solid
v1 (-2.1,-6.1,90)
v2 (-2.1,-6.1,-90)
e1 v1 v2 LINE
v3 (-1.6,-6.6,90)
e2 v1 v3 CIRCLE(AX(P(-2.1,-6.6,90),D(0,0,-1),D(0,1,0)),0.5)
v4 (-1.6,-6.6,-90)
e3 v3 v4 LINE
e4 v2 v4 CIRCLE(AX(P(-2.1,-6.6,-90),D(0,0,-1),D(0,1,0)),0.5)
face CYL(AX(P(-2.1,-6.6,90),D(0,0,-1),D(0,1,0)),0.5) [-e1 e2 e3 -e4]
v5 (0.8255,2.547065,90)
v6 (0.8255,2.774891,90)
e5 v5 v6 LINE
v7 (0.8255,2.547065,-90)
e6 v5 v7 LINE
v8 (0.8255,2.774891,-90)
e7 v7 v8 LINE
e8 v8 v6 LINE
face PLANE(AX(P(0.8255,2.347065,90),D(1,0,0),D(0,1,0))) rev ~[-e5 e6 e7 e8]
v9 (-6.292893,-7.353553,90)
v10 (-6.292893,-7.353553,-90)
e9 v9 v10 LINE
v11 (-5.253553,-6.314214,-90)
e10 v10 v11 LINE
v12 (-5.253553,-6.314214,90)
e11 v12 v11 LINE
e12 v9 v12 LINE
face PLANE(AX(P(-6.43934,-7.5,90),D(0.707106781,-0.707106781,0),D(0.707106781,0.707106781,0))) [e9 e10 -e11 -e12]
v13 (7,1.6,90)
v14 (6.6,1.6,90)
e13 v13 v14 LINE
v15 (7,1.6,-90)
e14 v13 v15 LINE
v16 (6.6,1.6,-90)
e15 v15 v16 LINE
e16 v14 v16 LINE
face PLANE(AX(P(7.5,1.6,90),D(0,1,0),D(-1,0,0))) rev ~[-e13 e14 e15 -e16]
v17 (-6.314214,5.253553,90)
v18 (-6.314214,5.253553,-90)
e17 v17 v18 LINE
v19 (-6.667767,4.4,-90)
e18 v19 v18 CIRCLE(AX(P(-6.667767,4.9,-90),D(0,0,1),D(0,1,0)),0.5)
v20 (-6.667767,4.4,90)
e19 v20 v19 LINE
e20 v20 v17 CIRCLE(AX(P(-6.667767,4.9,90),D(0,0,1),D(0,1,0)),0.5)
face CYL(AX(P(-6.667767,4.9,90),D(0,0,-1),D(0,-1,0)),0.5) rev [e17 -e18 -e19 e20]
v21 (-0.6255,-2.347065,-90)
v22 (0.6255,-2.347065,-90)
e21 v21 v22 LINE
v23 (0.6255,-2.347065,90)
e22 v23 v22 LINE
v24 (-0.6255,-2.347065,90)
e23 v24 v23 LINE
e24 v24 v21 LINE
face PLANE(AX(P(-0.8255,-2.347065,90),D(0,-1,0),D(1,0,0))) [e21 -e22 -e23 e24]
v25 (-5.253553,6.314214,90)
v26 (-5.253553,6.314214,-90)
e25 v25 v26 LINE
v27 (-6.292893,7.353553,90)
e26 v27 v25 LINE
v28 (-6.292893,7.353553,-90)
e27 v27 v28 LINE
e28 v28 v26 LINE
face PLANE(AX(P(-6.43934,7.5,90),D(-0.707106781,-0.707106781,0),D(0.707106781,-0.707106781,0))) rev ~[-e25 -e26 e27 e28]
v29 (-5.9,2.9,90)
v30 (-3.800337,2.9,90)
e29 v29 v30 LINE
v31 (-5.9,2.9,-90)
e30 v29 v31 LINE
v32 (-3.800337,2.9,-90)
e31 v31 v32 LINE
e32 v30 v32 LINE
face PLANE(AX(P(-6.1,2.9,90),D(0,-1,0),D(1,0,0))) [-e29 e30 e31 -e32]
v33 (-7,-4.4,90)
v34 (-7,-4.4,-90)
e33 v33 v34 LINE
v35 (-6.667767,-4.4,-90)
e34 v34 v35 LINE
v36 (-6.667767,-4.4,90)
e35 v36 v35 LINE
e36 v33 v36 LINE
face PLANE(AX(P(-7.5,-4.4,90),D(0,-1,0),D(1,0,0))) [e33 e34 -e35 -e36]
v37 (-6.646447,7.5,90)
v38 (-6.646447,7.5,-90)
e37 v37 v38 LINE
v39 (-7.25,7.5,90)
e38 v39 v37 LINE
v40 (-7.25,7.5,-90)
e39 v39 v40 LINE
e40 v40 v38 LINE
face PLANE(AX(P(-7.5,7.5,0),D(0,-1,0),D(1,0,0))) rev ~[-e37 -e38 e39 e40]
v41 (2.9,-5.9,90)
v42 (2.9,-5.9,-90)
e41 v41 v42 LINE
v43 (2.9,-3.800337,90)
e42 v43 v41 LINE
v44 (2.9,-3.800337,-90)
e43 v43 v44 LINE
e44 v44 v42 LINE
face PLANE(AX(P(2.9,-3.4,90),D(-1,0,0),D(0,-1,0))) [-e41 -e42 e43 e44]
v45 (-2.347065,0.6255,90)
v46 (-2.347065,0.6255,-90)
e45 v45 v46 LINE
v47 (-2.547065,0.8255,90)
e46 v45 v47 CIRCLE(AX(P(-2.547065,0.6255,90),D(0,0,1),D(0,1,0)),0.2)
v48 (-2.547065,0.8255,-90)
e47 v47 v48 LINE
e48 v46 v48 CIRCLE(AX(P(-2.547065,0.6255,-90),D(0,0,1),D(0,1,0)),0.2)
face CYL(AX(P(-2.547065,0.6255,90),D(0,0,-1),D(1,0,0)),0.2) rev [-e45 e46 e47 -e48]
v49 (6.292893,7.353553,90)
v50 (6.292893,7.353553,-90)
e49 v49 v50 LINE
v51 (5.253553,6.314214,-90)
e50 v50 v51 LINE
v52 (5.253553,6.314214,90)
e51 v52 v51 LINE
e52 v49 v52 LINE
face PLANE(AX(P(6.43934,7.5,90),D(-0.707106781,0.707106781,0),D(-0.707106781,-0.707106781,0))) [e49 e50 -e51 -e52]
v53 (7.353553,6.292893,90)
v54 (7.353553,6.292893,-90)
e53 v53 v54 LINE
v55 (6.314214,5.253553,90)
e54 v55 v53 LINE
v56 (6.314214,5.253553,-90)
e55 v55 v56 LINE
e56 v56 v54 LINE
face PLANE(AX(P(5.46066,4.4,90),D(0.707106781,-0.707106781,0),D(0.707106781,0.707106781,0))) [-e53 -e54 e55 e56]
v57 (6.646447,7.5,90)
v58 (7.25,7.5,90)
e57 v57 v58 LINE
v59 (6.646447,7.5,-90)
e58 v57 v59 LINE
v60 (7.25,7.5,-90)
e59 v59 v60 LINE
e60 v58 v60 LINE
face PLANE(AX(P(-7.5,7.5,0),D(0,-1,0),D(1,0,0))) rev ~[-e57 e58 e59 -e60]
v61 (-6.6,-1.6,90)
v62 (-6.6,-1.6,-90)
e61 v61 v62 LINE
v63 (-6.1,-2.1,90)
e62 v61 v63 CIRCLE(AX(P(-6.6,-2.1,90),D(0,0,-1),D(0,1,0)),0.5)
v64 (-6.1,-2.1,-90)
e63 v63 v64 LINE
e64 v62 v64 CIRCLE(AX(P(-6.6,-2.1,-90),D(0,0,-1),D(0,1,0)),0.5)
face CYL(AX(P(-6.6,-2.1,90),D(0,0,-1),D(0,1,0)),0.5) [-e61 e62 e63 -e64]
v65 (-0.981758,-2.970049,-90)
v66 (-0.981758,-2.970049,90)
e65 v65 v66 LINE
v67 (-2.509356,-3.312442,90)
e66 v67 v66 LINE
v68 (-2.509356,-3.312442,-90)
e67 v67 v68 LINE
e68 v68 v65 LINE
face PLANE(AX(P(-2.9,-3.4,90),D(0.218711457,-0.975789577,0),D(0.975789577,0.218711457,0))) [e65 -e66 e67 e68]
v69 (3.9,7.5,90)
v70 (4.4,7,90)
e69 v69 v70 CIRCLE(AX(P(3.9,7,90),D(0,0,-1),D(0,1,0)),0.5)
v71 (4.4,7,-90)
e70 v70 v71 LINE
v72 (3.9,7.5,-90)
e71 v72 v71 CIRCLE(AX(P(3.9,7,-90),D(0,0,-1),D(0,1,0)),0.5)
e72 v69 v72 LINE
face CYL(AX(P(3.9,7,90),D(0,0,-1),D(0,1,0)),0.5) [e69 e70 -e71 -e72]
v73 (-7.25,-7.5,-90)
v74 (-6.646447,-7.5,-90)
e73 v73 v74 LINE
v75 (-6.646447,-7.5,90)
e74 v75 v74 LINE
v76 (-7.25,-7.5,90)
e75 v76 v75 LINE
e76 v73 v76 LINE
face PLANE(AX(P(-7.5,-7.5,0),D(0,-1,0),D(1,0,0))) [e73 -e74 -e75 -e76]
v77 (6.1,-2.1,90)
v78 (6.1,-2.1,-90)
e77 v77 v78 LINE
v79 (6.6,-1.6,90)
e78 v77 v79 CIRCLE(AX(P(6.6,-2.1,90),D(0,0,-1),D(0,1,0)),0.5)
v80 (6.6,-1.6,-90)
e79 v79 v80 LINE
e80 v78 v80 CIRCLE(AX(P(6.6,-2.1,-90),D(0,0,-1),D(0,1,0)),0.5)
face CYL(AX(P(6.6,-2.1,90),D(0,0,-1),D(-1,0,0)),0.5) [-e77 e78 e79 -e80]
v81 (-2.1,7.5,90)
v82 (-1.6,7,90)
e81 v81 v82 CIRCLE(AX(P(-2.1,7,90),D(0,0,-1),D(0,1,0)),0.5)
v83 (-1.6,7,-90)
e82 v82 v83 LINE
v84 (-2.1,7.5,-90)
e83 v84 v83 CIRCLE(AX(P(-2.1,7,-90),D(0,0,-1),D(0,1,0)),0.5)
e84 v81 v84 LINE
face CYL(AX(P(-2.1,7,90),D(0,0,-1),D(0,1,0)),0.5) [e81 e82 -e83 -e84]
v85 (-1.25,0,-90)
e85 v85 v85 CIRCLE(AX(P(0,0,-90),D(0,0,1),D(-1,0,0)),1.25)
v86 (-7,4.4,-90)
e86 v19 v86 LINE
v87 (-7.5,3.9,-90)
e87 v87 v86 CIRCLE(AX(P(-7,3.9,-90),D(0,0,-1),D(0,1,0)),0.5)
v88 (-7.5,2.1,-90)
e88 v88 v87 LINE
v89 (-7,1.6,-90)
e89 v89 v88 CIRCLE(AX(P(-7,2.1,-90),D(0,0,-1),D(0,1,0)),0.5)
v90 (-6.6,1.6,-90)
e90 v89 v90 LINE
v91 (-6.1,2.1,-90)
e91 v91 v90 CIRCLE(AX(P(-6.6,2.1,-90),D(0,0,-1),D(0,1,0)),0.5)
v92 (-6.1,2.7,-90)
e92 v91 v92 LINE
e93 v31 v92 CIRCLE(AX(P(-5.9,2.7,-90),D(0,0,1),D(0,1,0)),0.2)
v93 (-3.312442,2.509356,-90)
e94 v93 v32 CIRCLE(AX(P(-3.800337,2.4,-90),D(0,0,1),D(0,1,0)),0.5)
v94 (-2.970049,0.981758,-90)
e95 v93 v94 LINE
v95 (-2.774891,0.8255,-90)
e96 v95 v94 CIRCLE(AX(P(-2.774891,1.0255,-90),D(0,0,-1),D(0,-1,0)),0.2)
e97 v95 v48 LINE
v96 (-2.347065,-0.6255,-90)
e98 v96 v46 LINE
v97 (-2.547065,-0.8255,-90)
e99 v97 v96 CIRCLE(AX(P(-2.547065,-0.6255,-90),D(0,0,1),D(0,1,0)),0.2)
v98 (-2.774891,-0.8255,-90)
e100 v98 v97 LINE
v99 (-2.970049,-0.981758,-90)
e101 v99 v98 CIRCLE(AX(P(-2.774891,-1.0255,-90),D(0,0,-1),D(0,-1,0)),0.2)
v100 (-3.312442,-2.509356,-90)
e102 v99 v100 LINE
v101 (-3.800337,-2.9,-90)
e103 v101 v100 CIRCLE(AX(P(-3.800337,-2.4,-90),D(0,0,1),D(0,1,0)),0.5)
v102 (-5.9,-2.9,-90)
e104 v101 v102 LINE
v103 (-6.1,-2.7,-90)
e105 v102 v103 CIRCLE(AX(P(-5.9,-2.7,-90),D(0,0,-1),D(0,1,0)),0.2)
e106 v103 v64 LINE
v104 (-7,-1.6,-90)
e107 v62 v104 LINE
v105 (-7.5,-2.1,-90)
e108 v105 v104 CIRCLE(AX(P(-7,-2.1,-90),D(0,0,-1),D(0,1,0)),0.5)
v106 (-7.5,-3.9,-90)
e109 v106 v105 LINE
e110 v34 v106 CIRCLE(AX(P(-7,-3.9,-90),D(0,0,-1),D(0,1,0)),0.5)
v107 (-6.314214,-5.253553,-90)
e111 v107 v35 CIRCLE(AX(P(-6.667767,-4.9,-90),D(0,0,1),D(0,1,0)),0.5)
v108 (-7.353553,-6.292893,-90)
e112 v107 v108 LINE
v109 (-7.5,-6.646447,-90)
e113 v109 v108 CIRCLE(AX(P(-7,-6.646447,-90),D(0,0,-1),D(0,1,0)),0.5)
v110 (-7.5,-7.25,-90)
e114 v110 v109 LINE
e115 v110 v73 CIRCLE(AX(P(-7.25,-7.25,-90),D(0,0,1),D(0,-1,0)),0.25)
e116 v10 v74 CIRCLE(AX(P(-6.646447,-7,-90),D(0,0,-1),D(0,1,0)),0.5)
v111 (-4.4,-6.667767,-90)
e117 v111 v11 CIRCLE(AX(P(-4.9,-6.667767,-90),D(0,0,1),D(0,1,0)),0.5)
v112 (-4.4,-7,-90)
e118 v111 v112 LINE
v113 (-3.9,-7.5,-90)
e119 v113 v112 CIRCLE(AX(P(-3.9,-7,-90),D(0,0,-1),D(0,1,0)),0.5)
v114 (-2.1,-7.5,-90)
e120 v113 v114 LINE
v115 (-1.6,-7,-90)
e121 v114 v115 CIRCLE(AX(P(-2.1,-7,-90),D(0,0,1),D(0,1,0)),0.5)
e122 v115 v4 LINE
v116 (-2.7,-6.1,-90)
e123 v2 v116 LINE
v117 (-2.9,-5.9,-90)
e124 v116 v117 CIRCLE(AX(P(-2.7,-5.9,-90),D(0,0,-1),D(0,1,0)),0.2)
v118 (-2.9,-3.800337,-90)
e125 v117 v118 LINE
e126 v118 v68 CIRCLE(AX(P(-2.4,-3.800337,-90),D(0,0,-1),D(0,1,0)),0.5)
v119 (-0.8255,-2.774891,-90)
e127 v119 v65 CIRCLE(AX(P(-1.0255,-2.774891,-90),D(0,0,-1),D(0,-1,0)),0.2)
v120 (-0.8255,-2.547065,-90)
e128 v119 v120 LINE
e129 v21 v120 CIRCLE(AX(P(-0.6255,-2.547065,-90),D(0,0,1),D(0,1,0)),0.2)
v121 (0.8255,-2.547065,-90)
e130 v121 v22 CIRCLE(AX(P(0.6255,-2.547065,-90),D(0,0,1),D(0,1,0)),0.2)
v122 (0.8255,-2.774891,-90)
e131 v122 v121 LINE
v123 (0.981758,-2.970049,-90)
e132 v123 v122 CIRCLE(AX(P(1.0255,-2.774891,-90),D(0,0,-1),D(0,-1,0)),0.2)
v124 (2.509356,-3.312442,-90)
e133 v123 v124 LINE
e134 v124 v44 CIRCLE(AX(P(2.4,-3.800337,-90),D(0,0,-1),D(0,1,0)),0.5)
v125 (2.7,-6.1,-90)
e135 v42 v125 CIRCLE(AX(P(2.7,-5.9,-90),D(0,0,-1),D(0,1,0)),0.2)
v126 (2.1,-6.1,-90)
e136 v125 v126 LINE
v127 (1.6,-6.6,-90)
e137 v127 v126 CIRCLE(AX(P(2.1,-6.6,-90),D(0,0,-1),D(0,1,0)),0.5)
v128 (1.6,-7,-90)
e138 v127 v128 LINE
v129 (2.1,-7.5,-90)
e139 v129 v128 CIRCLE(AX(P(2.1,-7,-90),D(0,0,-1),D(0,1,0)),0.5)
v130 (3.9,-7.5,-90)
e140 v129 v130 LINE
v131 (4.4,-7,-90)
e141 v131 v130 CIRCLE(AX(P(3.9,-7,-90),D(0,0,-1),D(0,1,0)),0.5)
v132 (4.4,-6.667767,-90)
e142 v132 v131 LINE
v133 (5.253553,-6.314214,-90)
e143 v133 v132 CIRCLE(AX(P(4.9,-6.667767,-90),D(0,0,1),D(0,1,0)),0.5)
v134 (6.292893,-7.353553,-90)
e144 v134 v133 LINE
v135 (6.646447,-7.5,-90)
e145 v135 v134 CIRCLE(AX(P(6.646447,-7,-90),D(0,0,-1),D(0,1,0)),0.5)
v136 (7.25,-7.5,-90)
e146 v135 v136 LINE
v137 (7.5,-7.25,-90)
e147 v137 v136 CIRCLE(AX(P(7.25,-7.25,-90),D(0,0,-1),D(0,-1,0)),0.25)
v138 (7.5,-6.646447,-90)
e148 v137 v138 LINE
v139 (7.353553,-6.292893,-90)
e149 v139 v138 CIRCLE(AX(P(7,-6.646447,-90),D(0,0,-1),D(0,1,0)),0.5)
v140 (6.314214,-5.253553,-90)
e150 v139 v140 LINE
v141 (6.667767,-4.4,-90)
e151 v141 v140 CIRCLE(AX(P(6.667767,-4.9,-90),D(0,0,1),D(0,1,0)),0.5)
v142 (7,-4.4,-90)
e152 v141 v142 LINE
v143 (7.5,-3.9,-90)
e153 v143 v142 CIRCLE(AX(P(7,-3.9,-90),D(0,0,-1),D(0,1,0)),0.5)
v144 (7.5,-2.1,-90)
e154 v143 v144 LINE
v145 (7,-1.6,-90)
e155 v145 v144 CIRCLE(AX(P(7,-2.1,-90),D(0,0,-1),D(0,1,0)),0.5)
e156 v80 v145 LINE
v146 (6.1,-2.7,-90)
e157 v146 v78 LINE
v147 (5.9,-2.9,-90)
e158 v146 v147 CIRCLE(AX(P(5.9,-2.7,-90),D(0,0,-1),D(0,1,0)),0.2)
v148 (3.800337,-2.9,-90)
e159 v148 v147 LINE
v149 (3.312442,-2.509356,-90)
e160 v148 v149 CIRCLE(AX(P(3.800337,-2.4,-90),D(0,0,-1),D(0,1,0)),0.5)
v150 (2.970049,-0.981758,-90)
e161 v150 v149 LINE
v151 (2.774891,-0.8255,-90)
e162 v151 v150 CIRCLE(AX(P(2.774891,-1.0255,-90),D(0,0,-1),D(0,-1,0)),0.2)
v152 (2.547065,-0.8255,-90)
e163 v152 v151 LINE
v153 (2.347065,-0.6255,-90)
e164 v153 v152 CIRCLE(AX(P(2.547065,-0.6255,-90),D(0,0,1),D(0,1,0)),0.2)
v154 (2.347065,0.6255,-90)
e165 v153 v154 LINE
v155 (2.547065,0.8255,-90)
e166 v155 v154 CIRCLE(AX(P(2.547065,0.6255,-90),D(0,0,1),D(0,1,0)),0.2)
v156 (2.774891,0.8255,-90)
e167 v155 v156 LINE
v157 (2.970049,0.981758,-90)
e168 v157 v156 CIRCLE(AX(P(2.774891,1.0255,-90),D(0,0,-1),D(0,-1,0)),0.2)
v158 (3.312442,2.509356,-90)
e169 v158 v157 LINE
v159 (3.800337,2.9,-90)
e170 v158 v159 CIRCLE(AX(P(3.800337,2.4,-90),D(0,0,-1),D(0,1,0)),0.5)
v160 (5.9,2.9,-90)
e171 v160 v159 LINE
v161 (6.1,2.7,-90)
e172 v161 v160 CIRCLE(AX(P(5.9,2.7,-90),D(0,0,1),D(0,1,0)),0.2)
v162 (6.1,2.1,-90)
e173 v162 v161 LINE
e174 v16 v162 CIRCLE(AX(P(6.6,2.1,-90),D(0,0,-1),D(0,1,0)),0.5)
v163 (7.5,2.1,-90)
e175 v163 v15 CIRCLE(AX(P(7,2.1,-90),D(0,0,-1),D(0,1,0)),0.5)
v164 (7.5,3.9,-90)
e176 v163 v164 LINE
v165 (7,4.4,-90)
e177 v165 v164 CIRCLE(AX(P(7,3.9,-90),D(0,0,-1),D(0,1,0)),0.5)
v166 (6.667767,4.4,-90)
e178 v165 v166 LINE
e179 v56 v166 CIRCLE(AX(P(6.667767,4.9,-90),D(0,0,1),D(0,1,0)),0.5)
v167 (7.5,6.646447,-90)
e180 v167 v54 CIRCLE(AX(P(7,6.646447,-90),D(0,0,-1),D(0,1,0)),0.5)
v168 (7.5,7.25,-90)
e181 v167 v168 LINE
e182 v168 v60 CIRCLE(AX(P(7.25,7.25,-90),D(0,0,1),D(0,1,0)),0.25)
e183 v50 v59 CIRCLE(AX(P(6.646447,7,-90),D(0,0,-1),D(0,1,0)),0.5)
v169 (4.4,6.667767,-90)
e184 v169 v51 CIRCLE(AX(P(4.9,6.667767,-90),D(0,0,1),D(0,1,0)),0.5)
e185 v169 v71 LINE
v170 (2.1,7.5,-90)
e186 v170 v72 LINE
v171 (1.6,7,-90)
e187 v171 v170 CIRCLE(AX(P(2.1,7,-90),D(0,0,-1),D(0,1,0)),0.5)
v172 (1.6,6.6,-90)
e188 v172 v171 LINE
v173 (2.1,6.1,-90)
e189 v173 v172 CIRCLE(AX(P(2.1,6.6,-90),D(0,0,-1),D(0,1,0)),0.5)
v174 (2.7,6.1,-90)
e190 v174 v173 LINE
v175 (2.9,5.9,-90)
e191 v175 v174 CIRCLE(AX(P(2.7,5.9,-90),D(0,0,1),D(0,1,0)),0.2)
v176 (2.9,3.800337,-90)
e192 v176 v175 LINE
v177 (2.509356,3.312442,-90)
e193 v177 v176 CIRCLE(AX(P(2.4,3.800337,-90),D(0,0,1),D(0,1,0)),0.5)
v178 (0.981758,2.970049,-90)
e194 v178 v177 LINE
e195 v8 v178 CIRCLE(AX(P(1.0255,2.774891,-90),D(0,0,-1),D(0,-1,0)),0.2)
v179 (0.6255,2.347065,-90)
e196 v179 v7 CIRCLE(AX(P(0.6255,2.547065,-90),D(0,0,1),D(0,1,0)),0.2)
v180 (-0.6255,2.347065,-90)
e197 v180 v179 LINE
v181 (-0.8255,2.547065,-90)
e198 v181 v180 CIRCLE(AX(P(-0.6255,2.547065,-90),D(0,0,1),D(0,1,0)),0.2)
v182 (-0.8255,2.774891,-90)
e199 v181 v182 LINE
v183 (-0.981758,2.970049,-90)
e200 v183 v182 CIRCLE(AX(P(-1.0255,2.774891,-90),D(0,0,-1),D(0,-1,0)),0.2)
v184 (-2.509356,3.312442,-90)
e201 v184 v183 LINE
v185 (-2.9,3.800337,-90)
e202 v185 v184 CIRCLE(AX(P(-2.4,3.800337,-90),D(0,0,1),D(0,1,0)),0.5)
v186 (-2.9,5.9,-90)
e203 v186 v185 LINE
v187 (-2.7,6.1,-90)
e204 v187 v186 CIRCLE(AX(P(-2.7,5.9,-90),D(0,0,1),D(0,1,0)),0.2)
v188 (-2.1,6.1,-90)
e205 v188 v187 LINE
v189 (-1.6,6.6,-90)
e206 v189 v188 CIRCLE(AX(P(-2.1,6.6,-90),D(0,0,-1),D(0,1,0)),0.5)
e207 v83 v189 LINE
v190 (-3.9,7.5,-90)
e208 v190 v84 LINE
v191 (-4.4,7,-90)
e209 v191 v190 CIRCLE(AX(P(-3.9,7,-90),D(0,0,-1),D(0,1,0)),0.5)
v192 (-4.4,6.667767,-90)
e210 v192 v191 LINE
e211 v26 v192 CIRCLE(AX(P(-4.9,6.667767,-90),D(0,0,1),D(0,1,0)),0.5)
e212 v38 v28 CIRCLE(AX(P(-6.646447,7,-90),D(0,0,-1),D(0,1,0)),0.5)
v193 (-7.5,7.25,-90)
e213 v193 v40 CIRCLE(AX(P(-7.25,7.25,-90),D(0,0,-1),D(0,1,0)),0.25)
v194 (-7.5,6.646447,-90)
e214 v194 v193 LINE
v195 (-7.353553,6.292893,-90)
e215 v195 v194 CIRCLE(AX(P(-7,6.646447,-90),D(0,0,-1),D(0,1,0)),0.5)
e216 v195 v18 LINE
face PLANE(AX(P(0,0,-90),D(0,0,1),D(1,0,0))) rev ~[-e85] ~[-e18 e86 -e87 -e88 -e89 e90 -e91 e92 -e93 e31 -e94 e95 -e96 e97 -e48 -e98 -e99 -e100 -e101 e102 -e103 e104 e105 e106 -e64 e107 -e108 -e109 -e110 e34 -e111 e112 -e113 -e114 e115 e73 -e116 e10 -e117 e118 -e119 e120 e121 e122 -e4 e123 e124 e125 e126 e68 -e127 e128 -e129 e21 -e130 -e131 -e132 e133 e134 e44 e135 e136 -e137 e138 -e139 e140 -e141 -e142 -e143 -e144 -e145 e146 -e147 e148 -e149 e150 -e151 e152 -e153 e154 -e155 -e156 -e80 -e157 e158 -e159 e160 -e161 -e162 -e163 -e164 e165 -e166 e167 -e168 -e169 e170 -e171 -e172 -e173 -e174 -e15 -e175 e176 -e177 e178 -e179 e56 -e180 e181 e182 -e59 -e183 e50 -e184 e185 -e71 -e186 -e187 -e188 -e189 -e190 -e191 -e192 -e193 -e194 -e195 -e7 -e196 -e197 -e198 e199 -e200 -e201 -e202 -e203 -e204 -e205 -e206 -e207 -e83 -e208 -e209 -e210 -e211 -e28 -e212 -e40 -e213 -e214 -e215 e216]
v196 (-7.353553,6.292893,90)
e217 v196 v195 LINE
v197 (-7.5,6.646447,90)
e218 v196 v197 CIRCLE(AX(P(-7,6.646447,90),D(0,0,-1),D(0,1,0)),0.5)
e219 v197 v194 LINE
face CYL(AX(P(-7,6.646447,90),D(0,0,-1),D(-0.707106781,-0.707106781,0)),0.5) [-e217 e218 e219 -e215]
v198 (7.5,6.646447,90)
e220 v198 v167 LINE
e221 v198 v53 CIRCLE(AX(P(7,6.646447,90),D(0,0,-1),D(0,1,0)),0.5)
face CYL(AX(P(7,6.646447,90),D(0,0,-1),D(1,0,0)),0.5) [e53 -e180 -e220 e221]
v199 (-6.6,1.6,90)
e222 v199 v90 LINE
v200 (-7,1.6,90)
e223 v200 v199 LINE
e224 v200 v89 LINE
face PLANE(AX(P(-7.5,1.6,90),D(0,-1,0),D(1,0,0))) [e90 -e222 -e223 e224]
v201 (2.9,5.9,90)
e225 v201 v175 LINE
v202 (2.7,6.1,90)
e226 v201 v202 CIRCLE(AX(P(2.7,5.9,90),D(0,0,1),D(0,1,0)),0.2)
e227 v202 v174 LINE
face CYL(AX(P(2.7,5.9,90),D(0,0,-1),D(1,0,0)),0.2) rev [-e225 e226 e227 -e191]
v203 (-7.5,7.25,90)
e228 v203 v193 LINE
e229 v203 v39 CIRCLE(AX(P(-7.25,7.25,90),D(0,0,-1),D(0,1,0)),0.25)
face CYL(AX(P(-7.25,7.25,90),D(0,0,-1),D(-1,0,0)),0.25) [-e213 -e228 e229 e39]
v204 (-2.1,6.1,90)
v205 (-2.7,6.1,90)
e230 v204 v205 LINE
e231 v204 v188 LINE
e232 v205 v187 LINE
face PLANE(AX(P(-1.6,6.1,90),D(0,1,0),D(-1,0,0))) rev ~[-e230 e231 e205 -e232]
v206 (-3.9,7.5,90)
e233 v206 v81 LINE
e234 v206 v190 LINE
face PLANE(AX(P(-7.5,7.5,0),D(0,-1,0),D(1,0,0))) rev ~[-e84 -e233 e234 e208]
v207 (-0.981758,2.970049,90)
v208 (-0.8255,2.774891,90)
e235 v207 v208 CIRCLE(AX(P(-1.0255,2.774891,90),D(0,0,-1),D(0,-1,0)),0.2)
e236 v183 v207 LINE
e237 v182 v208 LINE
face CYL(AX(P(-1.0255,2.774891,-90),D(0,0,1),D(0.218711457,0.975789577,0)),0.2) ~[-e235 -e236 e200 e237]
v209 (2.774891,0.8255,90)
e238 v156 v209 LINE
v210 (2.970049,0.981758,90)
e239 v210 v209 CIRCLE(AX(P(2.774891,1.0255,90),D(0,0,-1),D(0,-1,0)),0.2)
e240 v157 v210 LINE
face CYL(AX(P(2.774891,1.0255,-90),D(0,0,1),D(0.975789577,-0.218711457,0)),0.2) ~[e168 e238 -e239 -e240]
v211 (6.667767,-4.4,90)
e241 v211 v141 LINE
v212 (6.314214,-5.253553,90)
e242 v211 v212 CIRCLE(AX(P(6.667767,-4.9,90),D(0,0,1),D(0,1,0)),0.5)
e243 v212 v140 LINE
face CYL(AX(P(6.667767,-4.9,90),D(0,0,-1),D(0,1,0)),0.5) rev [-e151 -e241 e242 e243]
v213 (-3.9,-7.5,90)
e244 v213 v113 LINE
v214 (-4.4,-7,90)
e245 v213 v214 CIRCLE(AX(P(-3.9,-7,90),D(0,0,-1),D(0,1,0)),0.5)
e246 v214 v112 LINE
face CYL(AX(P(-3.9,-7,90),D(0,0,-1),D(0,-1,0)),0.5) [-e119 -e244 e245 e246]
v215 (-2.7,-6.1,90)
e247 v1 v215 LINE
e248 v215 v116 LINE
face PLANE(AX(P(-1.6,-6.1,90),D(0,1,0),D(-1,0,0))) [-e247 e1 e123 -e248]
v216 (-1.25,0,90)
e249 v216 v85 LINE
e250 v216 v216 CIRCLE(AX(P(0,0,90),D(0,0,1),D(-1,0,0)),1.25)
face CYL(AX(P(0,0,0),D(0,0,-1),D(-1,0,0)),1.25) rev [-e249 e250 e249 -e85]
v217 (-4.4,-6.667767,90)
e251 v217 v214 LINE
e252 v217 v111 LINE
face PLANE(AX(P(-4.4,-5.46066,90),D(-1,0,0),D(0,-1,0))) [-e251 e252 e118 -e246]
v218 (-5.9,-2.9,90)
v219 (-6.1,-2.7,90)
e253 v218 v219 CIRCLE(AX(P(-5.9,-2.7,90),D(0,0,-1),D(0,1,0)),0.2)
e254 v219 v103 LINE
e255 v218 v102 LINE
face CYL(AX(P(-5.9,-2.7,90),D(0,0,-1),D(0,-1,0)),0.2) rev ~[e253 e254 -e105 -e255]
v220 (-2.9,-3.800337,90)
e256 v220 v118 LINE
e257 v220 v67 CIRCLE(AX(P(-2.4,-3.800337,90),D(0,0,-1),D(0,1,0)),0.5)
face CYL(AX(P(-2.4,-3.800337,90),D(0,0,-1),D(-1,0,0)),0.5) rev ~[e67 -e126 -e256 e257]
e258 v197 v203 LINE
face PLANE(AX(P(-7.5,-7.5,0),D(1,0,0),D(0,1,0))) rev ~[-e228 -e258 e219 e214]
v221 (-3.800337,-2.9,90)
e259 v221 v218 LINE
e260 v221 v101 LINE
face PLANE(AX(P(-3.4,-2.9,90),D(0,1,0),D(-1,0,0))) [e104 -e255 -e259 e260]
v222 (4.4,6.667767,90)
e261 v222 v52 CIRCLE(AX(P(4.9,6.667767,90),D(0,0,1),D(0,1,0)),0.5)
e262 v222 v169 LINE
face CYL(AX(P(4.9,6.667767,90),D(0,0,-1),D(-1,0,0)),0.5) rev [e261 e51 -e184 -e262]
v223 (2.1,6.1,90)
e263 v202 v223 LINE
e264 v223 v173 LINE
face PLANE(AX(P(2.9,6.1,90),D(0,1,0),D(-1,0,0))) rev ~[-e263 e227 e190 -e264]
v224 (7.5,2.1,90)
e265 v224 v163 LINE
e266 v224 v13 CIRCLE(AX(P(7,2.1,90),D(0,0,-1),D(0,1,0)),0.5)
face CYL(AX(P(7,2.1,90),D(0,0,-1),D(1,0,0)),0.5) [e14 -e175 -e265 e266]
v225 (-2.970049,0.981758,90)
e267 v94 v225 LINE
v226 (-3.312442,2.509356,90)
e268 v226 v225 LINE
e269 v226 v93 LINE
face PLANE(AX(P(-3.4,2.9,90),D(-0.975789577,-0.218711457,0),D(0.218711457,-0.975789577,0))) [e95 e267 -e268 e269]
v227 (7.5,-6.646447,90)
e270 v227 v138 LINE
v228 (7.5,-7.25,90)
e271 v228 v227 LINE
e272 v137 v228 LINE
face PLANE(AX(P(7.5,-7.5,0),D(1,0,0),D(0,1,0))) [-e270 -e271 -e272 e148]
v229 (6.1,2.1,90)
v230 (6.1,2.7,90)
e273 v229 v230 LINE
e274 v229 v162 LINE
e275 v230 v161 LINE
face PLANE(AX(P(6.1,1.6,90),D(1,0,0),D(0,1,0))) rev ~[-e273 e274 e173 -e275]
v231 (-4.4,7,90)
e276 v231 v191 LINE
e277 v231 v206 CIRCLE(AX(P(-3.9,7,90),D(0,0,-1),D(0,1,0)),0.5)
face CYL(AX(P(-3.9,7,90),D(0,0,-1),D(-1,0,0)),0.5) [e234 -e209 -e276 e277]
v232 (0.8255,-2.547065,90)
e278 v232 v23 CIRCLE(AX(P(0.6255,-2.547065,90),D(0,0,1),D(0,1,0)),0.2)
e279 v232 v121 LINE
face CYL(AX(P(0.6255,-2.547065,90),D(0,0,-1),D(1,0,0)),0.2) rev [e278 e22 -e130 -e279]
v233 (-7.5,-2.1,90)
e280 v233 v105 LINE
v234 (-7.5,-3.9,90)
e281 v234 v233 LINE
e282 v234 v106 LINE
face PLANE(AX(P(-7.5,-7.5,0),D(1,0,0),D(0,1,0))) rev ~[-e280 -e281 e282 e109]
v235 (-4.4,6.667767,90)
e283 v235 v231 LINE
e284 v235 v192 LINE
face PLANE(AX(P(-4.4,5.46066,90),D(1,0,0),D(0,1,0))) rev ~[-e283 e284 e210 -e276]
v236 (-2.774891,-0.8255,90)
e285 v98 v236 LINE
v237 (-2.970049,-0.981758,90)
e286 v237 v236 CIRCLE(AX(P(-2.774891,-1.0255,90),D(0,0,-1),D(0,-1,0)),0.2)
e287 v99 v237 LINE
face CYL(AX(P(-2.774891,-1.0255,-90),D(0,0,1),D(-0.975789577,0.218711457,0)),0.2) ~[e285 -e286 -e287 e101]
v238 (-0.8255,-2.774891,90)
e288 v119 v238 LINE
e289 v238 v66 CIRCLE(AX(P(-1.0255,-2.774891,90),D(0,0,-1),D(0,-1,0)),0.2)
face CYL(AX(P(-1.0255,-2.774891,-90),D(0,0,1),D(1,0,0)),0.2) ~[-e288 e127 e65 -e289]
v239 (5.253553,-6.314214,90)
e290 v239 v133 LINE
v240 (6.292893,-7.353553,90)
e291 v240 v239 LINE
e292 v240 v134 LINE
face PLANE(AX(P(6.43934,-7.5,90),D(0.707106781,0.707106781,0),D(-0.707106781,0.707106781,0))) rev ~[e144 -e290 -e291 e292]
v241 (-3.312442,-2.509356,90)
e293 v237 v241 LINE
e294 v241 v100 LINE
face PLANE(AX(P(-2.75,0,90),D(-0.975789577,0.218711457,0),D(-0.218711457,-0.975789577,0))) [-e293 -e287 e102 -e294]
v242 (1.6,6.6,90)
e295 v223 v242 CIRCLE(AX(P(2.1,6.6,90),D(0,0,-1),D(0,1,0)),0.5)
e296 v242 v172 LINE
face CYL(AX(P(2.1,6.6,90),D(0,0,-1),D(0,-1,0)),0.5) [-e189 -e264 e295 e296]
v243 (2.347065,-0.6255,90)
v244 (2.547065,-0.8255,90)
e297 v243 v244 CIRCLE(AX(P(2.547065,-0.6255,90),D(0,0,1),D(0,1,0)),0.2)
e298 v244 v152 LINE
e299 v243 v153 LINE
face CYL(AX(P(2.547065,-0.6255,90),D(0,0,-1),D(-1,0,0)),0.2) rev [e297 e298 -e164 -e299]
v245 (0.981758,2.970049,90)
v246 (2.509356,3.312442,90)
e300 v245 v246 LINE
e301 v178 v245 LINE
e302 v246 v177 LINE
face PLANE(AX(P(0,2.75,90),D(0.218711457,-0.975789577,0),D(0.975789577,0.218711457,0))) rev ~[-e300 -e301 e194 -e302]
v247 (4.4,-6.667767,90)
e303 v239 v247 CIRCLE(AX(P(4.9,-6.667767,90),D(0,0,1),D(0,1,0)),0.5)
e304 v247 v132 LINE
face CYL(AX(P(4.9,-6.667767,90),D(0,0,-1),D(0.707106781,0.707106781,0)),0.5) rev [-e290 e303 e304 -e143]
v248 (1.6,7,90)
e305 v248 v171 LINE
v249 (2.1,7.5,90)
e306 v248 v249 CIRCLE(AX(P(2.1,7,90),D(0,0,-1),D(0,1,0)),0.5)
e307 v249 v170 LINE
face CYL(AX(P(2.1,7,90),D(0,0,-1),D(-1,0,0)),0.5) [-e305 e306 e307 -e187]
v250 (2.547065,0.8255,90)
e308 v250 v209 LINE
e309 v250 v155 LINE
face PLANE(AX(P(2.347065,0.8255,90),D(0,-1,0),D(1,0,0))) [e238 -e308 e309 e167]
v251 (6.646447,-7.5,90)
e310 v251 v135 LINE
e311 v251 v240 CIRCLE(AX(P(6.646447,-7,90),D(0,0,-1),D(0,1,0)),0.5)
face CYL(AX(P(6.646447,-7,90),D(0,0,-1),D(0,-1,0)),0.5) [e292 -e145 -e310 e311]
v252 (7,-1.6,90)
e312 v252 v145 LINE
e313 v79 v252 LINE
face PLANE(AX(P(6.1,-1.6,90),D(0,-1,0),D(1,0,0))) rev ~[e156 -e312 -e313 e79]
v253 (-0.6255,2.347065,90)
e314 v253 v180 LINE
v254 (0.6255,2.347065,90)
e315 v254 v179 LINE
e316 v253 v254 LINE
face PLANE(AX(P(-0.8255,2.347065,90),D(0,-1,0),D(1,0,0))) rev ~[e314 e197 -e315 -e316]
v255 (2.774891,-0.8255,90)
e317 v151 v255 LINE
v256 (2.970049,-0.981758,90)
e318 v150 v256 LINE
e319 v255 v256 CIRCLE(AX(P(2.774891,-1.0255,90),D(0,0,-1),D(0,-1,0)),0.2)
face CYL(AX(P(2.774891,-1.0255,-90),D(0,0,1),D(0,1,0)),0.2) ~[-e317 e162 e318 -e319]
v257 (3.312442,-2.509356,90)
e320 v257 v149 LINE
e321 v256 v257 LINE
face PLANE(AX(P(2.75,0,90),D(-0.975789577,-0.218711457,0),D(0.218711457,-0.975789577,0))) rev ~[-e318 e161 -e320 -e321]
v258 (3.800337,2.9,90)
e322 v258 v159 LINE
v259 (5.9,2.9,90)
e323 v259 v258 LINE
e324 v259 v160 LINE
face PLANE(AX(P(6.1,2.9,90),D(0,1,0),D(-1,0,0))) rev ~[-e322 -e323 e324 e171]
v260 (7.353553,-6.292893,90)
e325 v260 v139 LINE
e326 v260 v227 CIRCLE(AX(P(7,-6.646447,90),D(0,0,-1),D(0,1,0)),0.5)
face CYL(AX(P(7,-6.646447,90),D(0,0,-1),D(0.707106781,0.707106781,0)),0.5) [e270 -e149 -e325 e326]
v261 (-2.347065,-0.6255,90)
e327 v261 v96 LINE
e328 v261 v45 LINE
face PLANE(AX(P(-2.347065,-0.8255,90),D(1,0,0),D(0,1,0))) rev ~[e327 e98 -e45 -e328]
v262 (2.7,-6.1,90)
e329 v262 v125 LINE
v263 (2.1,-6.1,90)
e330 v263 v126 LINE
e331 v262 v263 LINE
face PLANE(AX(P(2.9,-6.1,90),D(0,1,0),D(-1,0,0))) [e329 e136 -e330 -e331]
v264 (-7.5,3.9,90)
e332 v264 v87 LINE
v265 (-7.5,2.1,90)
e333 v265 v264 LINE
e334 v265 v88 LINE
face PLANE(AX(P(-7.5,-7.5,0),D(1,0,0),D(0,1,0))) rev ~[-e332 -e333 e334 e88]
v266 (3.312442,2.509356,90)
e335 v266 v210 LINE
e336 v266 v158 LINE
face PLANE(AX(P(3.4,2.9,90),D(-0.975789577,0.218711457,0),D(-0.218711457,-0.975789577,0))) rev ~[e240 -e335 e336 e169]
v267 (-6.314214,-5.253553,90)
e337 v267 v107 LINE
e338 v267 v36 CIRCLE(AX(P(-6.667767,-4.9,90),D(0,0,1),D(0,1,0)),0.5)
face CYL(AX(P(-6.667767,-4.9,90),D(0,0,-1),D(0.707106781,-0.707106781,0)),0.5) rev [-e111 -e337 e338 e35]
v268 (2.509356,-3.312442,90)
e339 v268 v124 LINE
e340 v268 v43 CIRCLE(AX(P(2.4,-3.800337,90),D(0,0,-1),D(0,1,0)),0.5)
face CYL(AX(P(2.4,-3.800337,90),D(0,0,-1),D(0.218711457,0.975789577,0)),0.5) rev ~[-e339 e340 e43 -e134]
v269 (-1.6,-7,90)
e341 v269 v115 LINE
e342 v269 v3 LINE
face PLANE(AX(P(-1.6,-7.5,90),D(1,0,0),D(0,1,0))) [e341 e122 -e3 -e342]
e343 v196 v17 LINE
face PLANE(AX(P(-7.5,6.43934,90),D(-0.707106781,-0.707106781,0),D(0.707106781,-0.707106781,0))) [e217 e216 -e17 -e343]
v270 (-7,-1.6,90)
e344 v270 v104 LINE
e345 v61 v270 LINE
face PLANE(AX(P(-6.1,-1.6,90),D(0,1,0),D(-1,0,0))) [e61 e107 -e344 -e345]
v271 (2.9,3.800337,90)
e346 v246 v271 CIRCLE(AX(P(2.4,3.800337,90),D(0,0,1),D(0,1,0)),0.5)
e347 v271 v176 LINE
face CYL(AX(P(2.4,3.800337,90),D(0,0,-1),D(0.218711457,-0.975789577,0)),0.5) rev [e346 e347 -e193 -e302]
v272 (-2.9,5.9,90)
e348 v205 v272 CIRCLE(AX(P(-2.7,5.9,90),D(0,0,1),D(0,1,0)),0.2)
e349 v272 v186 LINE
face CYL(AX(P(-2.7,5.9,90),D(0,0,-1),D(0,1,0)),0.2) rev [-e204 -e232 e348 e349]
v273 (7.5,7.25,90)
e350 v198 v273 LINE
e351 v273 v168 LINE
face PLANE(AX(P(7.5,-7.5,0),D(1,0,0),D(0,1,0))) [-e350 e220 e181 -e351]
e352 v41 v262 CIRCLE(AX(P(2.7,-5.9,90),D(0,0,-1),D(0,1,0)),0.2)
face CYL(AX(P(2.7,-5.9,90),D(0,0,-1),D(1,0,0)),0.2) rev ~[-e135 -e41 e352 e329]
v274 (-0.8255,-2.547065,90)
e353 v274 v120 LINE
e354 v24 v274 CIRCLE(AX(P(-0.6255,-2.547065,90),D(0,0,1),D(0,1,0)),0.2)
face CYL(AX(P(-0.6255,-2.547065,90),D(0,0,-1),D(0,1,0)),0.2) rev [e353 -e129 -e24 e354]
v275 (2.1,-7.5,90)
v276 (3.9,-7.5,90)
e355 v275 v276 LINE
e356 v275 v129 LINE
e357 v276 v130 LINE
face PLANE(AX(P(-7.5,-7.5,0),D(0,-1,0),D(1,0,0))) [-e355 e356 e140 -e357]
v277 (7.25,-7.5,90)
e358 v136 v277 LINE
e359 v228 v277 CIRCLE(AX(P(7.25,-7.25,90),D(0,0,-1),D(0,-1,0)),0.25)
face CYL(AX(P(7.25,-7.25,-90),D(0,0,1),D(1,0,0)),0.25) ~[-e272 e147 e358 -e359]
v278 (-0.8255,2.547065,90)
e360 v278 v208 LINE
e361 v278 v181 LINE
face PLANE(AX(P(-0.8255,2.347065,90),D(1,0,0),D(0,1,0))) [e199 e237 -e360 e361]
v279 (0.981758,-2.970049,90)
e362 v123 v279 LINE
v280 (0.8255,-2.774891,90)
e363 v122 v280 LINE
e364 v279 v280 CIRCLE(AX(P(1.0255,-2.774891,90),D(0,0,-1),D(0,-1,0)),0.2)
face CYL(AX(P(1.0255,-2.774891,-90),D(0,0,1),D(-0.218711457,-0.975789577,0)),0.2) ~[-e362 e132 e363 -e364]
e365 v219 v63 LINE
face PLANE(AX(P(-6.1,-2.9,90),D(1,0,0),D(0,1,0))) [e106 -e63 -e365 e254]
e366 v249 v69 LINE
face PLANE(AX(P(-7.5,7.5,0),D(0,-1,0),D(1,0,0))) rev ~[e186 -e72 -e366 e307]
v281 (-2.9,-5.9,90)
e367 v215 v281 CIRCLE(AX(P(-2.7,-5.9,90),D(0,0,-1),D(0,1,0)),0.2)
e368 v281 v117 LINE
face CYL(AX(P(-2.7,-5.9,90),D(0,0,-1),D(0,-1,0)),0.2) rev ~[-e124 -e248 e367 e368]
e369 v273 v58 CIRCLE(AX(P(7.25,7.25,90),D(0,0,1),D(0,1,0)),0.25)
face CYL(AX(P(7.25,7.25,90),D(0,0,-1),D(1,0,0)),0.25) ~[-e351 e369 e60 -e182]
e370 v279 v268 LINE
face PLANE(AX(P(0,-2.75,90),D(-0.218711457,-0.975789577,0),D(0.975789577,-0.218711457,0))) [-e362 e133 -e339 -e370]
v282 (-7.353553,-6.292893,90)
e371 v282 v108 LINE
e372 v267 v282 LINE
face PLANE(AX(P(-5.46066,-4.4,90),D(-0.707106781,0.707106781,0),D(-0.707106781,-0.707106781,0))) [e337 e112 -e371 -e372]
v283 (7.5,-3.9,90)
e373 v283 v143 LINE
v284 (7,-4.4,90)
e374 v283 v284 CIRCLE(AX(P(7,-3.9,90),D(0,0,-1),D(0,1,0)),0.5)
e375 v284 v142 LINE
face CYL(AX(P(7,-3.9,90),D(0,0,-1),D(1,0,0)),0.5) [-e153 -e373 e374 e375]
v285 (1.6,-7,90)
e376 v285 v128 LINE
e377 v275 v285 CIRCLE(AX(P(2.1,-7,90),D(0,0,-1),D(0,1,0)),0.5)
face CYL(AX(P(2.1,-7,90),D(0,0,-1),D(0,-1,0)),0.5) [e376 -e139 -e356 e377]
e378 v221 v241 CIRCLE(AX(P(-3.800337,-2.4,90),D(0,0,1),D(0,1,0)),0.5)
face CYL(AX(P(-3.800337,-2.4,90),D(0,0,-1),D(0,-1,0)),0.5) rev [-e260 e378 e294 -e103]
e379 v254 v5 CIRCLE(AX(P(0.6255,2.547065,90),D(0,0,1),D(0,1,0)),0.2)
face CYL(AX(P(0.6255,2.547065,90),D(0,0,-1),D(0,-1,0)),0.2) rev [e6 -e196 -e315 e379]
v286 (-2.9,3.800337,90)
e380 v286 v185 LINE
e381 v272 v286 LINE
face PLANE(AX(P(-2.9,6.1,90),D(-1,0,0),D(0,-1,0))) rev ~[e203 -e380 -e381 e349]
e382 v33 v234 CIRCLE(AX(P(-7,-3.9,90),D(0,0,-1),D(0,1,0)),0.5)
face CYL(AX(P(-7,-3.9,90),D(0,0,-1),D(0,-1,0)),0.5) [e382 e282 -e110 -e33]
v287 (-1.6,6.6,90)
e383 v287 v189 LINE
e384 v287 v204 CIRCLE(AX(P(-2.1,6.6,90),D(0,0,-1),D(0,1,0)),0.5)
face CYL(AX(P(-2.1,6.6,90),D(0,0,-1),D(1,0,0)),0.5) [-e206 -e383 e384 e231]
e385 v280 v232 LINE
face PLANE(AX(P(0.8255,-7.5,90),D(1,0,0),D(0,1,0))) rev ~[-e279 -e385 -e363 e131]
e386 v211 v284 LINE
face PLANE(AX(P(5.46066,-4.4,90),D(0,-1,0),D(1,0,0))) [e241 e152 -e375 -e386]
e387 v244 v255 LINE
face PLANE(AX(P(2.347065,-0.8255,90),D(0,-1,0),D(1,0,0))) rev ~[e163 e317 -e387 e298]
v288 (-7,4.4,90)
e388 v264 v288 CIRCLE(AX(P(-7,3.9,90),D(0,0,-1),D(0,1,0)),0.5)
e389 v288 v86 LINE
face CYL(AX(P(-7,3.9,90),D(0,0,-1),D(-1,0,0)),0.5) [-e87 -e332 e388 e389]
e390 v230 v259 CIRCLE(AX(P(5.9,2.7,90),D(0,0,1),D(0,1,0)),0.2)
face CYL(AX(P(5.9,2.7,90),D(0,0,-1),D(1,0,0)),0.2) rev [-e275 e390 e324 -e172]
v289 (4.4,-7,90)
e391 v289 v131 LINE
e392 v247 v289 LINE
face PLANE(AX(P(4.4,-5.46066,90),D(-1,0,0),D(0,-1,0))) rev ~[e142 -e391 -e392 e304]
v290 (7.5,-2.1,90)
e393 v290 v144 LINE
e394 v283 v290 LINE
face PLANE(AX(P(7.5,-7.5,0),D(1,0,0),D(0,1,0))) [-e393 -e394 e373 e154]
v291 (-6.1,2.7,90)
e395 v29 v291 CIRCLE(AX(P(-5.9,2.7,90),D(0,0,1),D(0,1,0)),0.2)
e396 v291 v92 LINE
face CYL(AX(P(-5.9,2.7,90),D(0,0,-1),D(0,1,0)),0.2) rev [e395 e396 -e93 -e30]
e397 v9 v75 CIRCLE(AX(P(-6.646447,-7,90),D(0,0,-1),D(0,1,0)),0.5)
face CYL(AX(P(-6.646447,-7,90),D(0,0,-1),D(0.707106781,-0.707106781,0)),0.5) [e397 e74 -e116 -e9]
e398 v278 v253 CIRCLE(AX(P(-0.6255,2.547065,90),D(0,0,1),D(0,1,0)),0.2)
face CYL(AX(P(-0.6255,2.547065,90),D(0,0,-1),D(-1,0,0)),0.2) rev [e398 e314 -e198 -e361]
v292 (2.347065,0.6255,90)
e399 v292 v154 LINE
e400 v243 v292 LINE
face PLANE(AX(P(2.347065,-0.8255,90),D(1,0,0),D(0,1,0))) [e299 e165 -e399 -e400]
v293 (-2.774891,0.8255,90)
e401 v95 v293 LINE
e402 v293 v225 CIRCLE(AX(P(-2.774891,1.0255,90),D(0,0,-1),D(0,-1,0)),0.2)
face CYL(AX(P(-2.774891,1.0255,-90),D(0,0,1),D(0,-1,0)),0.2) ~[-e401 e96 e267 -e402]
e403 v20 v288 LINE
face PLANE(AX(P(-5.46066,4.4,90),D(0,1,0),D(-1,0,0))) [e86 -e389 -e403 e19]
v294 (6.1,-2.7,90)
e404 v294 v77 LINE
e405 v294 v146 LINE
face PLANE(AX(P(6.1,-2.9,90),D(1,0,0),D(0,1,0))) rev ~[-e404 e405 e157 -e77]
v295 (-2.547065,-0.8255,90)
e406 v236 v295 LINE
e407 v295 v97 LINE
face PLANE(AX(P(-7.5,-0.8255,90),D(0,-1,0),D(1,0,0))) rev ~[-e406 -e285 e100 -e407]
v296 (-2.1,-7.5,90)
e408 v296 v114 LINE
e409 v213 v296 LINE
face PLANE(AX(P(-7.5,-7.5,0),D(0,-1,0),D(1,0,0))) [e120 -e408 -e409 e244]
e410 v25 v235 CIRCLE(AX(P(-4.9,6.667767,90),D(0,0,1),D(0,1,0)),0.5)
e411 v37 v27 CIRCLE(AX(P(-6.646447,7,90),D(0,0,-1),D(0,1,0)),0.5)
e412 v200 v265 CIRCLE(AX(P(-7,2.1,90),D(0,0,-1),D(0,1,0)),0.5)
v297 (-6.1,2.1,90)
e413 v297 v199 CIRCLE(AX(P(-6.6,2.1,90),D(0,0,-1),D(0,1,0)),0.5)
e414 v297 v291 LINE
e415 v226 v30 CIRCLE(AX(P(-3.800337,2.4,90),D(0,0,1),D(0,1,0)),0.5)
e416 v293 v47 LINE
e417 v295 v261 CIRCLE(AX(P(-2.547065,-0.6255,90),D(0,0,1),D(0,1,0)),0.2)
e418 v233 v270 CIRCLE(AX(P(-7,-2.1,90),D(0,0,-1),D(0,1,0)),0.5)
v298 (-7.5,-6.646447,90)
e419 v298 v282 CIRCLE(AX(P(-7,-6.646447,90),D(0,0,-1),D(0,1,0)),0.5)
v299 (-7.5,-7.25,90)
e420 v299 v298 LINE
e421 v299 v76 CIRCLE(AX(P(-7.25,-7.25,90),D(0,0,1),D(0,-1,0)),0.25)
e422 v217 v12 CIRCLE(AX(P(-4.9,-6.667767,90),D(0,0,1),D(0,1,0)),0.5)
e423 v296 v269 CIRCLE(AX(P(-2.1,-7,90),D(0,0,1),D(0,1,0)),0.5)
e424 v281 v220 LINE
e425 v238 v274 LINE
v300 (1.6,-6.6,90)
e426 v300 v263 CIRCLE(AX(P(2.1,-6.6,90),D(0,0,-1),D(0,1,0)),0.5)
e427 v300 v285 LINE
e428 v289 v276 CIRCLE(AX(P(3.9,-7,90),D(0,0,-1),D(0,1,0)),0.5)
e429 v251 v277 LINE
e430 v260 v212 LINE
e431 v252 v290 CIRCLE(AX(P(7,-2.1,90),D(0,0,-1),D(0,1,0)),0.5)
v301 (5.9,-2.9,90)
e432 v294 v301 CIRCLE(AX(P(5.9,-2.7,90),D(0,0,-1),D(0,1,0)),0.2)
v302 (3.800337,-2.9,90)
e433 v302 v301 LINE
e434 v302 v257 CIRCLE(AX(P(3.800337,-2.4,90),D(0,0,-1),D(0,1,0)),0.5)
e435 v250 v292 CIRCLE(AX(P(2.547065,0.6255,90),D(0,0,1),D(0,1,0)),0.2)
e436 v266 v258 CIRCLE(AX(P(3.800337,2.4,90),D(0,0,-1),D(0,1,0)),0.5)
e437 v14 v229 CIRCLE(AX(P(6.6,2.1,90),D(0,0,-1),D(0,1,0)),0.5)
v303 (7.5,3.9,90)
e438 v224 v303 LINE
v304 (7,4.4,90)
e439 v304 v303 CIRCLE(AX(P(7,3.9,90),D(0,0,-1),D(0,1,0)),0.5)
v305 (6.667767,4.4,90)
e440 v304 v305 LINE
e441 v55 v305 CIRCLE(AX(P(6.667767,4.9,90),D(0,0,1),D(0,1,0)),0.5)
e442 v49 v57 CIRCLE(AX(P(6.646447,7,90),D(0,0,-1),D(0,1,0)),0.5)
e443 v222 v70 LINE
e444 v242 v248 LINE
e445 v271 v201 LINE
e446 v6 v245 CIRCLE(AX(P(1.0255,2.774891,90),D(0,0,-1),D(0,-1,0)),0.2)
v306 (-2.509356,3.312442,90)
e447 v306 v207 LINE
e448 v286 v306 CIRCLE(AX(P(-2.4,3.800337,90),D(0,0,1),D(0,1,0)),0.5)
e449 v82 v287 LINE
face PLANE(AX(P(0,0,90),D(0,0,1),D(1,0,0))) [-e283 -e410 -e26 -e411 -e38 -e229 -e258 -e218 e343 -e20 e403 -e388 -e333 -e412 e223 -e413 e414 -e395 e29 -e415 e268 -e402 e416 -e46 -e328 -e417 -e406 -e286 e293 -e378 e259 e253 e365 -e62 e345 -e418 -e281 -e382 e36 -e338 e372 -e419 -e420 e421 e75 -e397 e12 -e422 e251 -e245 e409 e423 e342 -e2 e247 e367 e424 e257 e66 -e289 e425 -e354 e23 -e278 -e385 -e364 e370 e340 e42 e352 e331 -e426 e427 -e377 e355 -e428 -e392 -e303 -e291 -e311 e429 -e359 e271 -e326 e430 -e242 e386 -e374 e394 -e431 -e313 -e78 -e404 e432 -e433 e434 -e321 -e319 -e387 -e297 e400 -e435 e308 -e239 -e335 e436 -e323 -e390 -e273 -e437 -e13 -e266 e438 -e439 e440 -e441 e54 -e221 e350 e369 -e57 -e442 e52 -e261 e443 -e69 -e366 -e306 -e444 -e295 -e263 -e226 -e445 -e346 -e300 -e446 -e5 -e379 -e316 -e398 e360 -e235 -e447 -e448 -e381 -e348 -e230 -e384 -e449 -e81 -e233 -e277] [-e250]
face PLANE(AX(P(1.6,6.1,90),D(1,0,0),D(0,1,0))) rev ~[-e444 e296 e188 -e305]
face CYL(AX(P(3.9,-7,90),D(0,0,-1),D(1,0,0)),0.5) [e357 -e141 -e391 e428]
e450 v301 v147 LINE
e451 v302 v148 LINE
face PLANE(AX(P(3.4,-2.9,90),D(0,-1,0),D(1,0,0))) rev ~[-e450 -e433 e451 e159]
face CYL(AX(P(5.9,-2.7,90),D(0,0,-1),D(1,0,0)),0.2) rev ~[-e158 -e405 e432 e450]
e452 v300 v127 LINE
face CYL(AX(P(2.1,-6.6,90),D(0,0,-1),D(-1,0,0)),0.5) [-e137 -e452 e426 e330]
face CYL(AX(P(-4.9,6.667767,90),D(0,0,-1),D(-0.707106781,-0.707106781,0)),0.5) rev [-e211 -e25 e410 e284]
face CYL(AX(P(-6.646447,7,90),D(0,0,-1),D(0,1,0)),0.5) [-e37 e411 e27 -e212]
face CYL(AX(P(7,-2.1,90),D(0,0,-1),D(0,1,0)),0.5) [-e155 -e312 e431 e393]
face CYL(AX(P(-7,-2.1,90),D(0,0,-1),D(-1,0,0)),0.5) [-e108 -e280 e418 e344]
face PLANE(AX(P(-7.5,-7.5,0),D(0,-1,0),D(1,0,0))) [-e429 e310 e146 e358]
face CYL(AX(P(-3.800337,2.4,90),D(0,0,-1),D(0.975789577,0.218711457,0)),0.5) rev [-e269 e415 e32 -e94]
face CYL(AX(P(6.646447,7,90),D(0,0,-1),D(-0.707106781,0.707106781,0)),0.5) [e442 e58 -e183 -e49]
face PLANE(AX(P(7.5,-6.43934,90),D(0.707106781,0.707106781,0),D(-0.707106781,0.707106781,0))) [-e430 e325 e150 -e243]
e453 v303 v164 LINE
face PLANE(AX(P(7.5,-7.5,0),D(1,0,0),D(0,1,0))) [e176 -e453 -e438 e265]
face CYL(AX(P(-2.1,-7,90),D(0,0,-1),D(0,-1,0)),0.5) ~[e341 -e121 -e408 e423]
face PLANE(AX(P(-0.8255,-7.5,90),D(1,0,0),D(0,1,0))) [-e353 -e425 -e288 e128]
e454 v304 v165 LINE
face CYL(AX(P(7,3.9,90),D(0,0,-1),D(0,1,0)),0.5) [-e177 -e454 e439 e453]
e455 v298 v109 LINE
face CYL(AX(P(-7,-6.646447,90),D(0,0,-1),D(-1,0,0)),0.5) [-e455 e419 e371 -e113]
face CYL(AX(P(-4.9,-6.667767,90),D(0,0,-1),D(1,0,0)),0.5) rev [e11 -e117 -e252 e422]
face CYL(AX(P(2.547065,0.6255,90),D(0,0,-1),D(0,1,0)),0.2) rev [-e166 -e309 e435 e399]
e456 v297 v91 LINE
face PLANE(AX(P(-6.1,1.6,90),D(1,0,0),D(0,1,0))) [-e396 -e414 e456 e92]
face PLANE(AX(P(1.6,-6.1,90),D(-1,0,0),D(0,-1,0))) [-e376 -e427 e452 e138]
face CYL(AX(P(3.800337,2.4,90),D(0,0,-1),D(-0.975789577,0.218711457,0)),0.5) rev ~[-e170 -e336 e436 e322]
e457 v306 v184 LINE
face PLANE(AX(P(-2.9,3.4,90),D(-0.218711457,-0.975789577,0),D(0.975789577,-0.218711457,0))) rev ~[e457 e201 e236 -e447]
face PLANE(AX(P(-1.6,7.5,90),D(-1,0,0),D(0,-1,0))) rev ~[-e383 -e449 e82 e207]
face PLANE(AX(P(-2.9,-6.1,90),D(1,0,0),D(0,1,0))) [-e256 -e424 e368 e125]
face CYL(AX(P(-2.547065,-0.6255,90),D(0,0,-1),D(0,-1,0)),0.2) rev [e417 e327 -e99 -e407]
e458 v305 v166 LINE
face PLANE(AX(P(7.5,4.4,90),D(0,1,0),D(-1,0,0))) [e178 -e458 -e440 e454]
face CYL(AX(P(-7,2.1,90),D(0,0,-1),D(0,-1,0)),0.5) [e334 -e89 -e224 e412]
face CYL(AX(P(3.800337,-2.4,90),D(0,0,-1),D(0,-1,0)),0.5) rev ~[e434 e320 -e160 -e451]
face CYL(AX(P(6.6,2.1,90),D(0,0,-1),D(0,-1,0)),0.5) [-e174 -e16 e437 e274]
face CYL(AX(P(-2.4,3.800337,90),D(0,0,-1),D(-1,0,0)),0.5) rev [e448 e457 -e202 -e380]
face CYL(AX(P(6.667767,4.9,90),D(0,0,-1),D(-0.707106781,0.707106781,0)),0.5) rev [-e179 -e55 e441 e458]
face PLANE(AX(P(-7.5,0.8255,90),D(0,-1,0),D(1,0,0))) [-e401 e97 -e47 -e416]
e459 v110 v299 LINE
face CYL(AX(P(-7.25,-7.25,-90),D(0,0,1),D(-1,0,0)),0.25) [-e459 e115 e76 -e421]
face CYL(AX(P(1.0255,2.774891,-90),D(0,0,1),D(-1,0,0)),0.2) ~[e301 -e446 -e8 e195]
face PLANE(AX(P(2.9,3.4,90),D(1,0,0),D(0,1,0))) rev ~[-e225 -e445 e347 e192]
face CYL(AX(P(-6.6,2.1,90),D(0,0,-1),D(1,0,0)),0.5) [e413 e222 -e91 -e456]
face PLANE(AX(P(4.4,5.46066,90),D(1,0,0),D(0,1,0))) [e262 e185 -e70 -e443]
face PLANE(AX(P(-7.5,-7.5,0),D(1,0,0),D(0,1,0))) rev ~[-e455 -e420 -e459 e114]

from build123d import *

# Parameters (mm, degrees)
SKETCH1_W           = 15
SKETCH1_H           = 15
SKETCH1_R           = 1.25
BOSS_EXTRUDE1_DEPTH = 90
FILLET1_R           = 0.25
CUT_EXTRUDE1_DEPTH  = 181.312229203
CUT_EXTRUDE3_DEPTH  = 181.312229203
FILLET3_R           = 0.5
FILLET4_R           = 0.5
FILLET5_R           = 3
FILLET6_R           = 0.2
CUT_EXTRUDE4_DEPTH  = 181.312229203
FILLET8_R           = 0.5
SKETCH6_W           = 5.1529354
SKETCH6_H           = 1.651
SKETCH6_W_2         = 1.651
SKETCH6_H_2         = 5.1529354
CUT_EXTRUDE5_DEPTH  = 181.312229203
FILLET10_R          = 0.2


with BuildPart() as part:
    # Sketch1 → Boss-Extrude1 (new, symmetric)
    with BuildSketch(Plane.XY):
        Rectangle(SKETCH1_W, SKETCH1_H)
        with Locations(Location((0, 0, 0), (0, 0, 180))):
            Circle(SKETCH1_R, mode=Mode.SUBTRACT)
    extrude(amount=BOSS_EXTRUDE1_DEPTH, both=True)

    # Fillet1
    fillet1_edges = [part.edges().sort_by_distance(p)[0] for p in [
        (7.5, -7.5, 0),
        (-7.5, -7.5, 0),
        (-7.5, 7.5, 0),
        (7.5, 7.5, 0),
    ]]
    fillet(fillet1_edges, radius=FILLET1_R)

    # Sketch2 → Cut-Extrude1 (cut, through all)
    with BuildSketch(Plane.XY.offset(90)):
        Polygon((-7.5, 1.6), (-6.1, 1.6), (-6.1, 2.9), (-3.4, 2.9), (-3.4, -2.9), (-6.1, -2.9), (-6.1, -1.6), (-7.5, -1.6), align=None)
        Polygon((2.9, 6.1), (1.6, 6.1), (1.6, 7.5), (-1.6, 7.5), (-1.6, 6.1), (-2.9, 6.1), (-2.9, 3.4), (2.9, 3.4), align=None)
        Polygon((-1.6, -7.5), (-1.6, -6.1), (-2.9, -6.1), (-2.9, -3.4), (2.9, -3.4), (2.9, -6.1), (1.6, -6.1), (1.6, -7.5), align=None)
        Polygon((6.1, -2.9), (6.1, -1.6), (7.5, -1.6), (7.5, 1.6), (6.1, 1.6), (6.1, 2.9), (3.4, 2.9), (3.4, -2.9), align=None)
    extrude(amount=-CUT_EXTRUDE1_DEPTH, mode=Mode.SUBTRACT)

    # Sketch4 → Cut-Extrude3 (cut, through all)
    with BuildSketch(Plane.XY.offset(90)):
        Polygon((-3.4, 2.9), (-2.75, 0), (-3.4, -2.9), align=None)
        Polygon((-2.9, 3.4), (0, 2.75), (2.9, 3.4), align=None)
        Polygon((3.4, 2.9), (2.75, 0), (3.4, -2.9), align=None)
        Polygon((-2.9, -3.4), (0, -2.75), (2.9, -3.4), align=None)
    extrude(amount=-CUT_EXTRUDE3_DEPTH, mode=Mode.SUBTRACT)

    # Fillet3
    fillet3_edges = [part.edges().sort_by_distance(p)[0] for p in [
        (1.6, -7.5, 0),
        (-1.6, -7.5, 0),
        (-1.6, -6.1, 0),
        (1.6, -6.1, 0),
        (6.1, 1.6, 0),
        (7.5, 1.6, 0),
        (7.5, -1.6, 0),
        (6.1, -1.6, 0),
        (-7.5, -1.6, 0),
        (-7.5, 1.6, 0),
        (-6.1, 1.6, 0),
        (-6.1, -1.6, 0),
        (-1.6, 6.1, 0),
        (-1.6, 7.5, 0),
        (1.6, 7.5, 0),
        (1.6, 6.1, 0),
    ]]
    fillet(fillet3_edges, radius=FILLET3_R)

    # Fillet4
    fillet4_edges = [part.edges().sort_by_distance(p)[0] for p in [
        (-2.9, -3.4, 0),
        (2.9, -3.4, 0),
        (3.4, -2.9, 0),
        (3.4, 2.9, 0),
        (-3.4, 2.9, 0),
        (-3.4, -2.9, 0),
        (2.9, 3.4, 0),
        (-2.9, 3.4, 0),
    ]]
    fillet(fillet4_edges, radius=FILLET4_R)

    # Fillet5
    fillet5_edges = [part.edges().sort_by_distance(p)[0] for p in [
        (-2.75, 0, 0),
        (0, 2.75, 0),
        (2.75, 0, 0),
        (0, -2.75, 0),
    ]]
    fillet(fillet5_edges, radius=FILLET5_R)

    # Fillet6
    fillet6_edges = [part.edges().sort_by_distance(p)[0] for p in [
        (-2.9, -6.1, 0),
        (2.9, -6.1, 0),
        (6.1, -2.9, 0),
        (6.1, 2.9, 0),
        (-6.1, 2.9, 0),
        (-6.1, -2.9, 0),
        (2.9, 6.1, 0),
        (-2.9, 6.1, 0),
    ]]
    fillet(fillet6_edges, radius=FILLET6_R)

    # Sketch5 → Cut-Extrude4 (cut, through all)
    with BuildSketch(Plane.XY.offset(90)):
        Polygon((-7.5, 6.439339828), (-5.460660172, 4.4), (-7.5, 4.4), align=None)
        Polygon((-6.439339828, 7.5), (-4.4, 5.460660172), (-4.4, 7.5), align=None)
        Polygon((4.4, 7.5), (6.439339828, 7.5), (4.4, 5.460660172), align=None)
        Polygon((7.5, 6.439339828), (7.5, 4.4), (5.460660172, 4.4), align=None)
        Polygon((7.5, -6.439339828), (5.460660172, -4.4), (7.5, -4.4), align=None)
        Polygon((6.439339828, -7.5), (4.4, -5.460660172), (4.4, -7.5), align=None)
        Polygon((-4.4, -7.5), (-6.439339828, -7.5), (-4.4, -5.460660172), align=None)
        Polygon((-7.5, -6.439339828), (-7.5, -4.4), (-5.460660172, -4.4), align=None)
    extrude(amount=-CUT_EXTRUDE4_DEPTH, mode=Mode.SUBTRACT)

    # Fillet8
    fillet8_edges = [part.edges().sort_by_distance(p)[0] for p in [
        (-7.5, 4.4, 0),
        (-7.5, 6.439339828, 0),
        (-5.460660172, 4.4, 0),
        (7.5, -4.4, 0),
        (7.5, -6.439339828, 0),
        (5.460660172, -4.4, 0),
        (5.460660172, 4.4, 0),
        (7.5, 6.439339828, 0),
        (7.5, 4.4, 0),
        (-4.4, 7.5, 0),
        (-4.4, 5.460660172, 0),
        (-6.439339828, 7.5, 0),
        (-5.460660172, -4.4, 0),
        (-7.5, -6.439339828, 0),
        (-7.5, -4.4, 0),
        (4.4, 5.460660172, 0),
        (4.4, 7.5, 0),
        (6.439339828, 7.5, 0),
        (6.439339828, -7.5, 0),
        (4.4, -7.5, 0),
        (4.4, -5.460660172, 0),
        (-6.439339828, -7.5, 0),
        (-4.4, -5.460660172, 0),
        (-4.4, -7.5, 0),
    ]]
    fillet(fillet8_edges, radius=FILLET8_R)

    # Sketch6 → Cut-Extrude5 (cut, through all)
    with BuildSketch(Plane.XY.offset(90)):
        with Locations((4.9235323, 0)):
            Rectangle(SKETCH6_W, SKETCH6_H)
        with Locations((0, -4.9235323)):
            Rectangle(SKETCH6_W_2, SKETCH6_H_2)
        with Locations((-4.9235323, 0)):
            Rectangle(SKETCH6_W, SKETCH6_H)
        with Locations((0, 4.9235323)):
            Rectangle(SKETCH6_W_2, SKETCH6_H_2)
    extrude(amount=-CUT_EXTRUDE5_DEPTH, mode=Mode.SUBTRACT)

    # Fillet10
    fillet10_edges = [part.edges().sort_by_distance(p)[0] for p in [
        (0.8255, -2.935025862, 0),
        (-0.8255, -2.935025862, 0),
        (0.8255, -2.3470646, 0),
        (-0.8255, -2.3470646, 0),
        (2.935025862, 0.8255, 0),
        (2.935025862, -0.8255, 0),
        (2.3470646, 0.8255, 0),
        (2.3470646, -0.8255, 0),
        (-2.935025862, -0.8255, 0),
        (-2.935025862, 0.8255, 0),
        (-2.3470646, -0.8255, 0),
        (-2.3470646, 0.8255, 0),
        (-0.8255, 2.935025862, 0),
        (0.8255, 2.935025862, 0),
        (-0.8255, 2.3470646, 0),
        (0.8255, 2.3470646, 0),
    ]]
    fillet(fillet10_edges, radius=FILLET10_R)


solid = part.part
